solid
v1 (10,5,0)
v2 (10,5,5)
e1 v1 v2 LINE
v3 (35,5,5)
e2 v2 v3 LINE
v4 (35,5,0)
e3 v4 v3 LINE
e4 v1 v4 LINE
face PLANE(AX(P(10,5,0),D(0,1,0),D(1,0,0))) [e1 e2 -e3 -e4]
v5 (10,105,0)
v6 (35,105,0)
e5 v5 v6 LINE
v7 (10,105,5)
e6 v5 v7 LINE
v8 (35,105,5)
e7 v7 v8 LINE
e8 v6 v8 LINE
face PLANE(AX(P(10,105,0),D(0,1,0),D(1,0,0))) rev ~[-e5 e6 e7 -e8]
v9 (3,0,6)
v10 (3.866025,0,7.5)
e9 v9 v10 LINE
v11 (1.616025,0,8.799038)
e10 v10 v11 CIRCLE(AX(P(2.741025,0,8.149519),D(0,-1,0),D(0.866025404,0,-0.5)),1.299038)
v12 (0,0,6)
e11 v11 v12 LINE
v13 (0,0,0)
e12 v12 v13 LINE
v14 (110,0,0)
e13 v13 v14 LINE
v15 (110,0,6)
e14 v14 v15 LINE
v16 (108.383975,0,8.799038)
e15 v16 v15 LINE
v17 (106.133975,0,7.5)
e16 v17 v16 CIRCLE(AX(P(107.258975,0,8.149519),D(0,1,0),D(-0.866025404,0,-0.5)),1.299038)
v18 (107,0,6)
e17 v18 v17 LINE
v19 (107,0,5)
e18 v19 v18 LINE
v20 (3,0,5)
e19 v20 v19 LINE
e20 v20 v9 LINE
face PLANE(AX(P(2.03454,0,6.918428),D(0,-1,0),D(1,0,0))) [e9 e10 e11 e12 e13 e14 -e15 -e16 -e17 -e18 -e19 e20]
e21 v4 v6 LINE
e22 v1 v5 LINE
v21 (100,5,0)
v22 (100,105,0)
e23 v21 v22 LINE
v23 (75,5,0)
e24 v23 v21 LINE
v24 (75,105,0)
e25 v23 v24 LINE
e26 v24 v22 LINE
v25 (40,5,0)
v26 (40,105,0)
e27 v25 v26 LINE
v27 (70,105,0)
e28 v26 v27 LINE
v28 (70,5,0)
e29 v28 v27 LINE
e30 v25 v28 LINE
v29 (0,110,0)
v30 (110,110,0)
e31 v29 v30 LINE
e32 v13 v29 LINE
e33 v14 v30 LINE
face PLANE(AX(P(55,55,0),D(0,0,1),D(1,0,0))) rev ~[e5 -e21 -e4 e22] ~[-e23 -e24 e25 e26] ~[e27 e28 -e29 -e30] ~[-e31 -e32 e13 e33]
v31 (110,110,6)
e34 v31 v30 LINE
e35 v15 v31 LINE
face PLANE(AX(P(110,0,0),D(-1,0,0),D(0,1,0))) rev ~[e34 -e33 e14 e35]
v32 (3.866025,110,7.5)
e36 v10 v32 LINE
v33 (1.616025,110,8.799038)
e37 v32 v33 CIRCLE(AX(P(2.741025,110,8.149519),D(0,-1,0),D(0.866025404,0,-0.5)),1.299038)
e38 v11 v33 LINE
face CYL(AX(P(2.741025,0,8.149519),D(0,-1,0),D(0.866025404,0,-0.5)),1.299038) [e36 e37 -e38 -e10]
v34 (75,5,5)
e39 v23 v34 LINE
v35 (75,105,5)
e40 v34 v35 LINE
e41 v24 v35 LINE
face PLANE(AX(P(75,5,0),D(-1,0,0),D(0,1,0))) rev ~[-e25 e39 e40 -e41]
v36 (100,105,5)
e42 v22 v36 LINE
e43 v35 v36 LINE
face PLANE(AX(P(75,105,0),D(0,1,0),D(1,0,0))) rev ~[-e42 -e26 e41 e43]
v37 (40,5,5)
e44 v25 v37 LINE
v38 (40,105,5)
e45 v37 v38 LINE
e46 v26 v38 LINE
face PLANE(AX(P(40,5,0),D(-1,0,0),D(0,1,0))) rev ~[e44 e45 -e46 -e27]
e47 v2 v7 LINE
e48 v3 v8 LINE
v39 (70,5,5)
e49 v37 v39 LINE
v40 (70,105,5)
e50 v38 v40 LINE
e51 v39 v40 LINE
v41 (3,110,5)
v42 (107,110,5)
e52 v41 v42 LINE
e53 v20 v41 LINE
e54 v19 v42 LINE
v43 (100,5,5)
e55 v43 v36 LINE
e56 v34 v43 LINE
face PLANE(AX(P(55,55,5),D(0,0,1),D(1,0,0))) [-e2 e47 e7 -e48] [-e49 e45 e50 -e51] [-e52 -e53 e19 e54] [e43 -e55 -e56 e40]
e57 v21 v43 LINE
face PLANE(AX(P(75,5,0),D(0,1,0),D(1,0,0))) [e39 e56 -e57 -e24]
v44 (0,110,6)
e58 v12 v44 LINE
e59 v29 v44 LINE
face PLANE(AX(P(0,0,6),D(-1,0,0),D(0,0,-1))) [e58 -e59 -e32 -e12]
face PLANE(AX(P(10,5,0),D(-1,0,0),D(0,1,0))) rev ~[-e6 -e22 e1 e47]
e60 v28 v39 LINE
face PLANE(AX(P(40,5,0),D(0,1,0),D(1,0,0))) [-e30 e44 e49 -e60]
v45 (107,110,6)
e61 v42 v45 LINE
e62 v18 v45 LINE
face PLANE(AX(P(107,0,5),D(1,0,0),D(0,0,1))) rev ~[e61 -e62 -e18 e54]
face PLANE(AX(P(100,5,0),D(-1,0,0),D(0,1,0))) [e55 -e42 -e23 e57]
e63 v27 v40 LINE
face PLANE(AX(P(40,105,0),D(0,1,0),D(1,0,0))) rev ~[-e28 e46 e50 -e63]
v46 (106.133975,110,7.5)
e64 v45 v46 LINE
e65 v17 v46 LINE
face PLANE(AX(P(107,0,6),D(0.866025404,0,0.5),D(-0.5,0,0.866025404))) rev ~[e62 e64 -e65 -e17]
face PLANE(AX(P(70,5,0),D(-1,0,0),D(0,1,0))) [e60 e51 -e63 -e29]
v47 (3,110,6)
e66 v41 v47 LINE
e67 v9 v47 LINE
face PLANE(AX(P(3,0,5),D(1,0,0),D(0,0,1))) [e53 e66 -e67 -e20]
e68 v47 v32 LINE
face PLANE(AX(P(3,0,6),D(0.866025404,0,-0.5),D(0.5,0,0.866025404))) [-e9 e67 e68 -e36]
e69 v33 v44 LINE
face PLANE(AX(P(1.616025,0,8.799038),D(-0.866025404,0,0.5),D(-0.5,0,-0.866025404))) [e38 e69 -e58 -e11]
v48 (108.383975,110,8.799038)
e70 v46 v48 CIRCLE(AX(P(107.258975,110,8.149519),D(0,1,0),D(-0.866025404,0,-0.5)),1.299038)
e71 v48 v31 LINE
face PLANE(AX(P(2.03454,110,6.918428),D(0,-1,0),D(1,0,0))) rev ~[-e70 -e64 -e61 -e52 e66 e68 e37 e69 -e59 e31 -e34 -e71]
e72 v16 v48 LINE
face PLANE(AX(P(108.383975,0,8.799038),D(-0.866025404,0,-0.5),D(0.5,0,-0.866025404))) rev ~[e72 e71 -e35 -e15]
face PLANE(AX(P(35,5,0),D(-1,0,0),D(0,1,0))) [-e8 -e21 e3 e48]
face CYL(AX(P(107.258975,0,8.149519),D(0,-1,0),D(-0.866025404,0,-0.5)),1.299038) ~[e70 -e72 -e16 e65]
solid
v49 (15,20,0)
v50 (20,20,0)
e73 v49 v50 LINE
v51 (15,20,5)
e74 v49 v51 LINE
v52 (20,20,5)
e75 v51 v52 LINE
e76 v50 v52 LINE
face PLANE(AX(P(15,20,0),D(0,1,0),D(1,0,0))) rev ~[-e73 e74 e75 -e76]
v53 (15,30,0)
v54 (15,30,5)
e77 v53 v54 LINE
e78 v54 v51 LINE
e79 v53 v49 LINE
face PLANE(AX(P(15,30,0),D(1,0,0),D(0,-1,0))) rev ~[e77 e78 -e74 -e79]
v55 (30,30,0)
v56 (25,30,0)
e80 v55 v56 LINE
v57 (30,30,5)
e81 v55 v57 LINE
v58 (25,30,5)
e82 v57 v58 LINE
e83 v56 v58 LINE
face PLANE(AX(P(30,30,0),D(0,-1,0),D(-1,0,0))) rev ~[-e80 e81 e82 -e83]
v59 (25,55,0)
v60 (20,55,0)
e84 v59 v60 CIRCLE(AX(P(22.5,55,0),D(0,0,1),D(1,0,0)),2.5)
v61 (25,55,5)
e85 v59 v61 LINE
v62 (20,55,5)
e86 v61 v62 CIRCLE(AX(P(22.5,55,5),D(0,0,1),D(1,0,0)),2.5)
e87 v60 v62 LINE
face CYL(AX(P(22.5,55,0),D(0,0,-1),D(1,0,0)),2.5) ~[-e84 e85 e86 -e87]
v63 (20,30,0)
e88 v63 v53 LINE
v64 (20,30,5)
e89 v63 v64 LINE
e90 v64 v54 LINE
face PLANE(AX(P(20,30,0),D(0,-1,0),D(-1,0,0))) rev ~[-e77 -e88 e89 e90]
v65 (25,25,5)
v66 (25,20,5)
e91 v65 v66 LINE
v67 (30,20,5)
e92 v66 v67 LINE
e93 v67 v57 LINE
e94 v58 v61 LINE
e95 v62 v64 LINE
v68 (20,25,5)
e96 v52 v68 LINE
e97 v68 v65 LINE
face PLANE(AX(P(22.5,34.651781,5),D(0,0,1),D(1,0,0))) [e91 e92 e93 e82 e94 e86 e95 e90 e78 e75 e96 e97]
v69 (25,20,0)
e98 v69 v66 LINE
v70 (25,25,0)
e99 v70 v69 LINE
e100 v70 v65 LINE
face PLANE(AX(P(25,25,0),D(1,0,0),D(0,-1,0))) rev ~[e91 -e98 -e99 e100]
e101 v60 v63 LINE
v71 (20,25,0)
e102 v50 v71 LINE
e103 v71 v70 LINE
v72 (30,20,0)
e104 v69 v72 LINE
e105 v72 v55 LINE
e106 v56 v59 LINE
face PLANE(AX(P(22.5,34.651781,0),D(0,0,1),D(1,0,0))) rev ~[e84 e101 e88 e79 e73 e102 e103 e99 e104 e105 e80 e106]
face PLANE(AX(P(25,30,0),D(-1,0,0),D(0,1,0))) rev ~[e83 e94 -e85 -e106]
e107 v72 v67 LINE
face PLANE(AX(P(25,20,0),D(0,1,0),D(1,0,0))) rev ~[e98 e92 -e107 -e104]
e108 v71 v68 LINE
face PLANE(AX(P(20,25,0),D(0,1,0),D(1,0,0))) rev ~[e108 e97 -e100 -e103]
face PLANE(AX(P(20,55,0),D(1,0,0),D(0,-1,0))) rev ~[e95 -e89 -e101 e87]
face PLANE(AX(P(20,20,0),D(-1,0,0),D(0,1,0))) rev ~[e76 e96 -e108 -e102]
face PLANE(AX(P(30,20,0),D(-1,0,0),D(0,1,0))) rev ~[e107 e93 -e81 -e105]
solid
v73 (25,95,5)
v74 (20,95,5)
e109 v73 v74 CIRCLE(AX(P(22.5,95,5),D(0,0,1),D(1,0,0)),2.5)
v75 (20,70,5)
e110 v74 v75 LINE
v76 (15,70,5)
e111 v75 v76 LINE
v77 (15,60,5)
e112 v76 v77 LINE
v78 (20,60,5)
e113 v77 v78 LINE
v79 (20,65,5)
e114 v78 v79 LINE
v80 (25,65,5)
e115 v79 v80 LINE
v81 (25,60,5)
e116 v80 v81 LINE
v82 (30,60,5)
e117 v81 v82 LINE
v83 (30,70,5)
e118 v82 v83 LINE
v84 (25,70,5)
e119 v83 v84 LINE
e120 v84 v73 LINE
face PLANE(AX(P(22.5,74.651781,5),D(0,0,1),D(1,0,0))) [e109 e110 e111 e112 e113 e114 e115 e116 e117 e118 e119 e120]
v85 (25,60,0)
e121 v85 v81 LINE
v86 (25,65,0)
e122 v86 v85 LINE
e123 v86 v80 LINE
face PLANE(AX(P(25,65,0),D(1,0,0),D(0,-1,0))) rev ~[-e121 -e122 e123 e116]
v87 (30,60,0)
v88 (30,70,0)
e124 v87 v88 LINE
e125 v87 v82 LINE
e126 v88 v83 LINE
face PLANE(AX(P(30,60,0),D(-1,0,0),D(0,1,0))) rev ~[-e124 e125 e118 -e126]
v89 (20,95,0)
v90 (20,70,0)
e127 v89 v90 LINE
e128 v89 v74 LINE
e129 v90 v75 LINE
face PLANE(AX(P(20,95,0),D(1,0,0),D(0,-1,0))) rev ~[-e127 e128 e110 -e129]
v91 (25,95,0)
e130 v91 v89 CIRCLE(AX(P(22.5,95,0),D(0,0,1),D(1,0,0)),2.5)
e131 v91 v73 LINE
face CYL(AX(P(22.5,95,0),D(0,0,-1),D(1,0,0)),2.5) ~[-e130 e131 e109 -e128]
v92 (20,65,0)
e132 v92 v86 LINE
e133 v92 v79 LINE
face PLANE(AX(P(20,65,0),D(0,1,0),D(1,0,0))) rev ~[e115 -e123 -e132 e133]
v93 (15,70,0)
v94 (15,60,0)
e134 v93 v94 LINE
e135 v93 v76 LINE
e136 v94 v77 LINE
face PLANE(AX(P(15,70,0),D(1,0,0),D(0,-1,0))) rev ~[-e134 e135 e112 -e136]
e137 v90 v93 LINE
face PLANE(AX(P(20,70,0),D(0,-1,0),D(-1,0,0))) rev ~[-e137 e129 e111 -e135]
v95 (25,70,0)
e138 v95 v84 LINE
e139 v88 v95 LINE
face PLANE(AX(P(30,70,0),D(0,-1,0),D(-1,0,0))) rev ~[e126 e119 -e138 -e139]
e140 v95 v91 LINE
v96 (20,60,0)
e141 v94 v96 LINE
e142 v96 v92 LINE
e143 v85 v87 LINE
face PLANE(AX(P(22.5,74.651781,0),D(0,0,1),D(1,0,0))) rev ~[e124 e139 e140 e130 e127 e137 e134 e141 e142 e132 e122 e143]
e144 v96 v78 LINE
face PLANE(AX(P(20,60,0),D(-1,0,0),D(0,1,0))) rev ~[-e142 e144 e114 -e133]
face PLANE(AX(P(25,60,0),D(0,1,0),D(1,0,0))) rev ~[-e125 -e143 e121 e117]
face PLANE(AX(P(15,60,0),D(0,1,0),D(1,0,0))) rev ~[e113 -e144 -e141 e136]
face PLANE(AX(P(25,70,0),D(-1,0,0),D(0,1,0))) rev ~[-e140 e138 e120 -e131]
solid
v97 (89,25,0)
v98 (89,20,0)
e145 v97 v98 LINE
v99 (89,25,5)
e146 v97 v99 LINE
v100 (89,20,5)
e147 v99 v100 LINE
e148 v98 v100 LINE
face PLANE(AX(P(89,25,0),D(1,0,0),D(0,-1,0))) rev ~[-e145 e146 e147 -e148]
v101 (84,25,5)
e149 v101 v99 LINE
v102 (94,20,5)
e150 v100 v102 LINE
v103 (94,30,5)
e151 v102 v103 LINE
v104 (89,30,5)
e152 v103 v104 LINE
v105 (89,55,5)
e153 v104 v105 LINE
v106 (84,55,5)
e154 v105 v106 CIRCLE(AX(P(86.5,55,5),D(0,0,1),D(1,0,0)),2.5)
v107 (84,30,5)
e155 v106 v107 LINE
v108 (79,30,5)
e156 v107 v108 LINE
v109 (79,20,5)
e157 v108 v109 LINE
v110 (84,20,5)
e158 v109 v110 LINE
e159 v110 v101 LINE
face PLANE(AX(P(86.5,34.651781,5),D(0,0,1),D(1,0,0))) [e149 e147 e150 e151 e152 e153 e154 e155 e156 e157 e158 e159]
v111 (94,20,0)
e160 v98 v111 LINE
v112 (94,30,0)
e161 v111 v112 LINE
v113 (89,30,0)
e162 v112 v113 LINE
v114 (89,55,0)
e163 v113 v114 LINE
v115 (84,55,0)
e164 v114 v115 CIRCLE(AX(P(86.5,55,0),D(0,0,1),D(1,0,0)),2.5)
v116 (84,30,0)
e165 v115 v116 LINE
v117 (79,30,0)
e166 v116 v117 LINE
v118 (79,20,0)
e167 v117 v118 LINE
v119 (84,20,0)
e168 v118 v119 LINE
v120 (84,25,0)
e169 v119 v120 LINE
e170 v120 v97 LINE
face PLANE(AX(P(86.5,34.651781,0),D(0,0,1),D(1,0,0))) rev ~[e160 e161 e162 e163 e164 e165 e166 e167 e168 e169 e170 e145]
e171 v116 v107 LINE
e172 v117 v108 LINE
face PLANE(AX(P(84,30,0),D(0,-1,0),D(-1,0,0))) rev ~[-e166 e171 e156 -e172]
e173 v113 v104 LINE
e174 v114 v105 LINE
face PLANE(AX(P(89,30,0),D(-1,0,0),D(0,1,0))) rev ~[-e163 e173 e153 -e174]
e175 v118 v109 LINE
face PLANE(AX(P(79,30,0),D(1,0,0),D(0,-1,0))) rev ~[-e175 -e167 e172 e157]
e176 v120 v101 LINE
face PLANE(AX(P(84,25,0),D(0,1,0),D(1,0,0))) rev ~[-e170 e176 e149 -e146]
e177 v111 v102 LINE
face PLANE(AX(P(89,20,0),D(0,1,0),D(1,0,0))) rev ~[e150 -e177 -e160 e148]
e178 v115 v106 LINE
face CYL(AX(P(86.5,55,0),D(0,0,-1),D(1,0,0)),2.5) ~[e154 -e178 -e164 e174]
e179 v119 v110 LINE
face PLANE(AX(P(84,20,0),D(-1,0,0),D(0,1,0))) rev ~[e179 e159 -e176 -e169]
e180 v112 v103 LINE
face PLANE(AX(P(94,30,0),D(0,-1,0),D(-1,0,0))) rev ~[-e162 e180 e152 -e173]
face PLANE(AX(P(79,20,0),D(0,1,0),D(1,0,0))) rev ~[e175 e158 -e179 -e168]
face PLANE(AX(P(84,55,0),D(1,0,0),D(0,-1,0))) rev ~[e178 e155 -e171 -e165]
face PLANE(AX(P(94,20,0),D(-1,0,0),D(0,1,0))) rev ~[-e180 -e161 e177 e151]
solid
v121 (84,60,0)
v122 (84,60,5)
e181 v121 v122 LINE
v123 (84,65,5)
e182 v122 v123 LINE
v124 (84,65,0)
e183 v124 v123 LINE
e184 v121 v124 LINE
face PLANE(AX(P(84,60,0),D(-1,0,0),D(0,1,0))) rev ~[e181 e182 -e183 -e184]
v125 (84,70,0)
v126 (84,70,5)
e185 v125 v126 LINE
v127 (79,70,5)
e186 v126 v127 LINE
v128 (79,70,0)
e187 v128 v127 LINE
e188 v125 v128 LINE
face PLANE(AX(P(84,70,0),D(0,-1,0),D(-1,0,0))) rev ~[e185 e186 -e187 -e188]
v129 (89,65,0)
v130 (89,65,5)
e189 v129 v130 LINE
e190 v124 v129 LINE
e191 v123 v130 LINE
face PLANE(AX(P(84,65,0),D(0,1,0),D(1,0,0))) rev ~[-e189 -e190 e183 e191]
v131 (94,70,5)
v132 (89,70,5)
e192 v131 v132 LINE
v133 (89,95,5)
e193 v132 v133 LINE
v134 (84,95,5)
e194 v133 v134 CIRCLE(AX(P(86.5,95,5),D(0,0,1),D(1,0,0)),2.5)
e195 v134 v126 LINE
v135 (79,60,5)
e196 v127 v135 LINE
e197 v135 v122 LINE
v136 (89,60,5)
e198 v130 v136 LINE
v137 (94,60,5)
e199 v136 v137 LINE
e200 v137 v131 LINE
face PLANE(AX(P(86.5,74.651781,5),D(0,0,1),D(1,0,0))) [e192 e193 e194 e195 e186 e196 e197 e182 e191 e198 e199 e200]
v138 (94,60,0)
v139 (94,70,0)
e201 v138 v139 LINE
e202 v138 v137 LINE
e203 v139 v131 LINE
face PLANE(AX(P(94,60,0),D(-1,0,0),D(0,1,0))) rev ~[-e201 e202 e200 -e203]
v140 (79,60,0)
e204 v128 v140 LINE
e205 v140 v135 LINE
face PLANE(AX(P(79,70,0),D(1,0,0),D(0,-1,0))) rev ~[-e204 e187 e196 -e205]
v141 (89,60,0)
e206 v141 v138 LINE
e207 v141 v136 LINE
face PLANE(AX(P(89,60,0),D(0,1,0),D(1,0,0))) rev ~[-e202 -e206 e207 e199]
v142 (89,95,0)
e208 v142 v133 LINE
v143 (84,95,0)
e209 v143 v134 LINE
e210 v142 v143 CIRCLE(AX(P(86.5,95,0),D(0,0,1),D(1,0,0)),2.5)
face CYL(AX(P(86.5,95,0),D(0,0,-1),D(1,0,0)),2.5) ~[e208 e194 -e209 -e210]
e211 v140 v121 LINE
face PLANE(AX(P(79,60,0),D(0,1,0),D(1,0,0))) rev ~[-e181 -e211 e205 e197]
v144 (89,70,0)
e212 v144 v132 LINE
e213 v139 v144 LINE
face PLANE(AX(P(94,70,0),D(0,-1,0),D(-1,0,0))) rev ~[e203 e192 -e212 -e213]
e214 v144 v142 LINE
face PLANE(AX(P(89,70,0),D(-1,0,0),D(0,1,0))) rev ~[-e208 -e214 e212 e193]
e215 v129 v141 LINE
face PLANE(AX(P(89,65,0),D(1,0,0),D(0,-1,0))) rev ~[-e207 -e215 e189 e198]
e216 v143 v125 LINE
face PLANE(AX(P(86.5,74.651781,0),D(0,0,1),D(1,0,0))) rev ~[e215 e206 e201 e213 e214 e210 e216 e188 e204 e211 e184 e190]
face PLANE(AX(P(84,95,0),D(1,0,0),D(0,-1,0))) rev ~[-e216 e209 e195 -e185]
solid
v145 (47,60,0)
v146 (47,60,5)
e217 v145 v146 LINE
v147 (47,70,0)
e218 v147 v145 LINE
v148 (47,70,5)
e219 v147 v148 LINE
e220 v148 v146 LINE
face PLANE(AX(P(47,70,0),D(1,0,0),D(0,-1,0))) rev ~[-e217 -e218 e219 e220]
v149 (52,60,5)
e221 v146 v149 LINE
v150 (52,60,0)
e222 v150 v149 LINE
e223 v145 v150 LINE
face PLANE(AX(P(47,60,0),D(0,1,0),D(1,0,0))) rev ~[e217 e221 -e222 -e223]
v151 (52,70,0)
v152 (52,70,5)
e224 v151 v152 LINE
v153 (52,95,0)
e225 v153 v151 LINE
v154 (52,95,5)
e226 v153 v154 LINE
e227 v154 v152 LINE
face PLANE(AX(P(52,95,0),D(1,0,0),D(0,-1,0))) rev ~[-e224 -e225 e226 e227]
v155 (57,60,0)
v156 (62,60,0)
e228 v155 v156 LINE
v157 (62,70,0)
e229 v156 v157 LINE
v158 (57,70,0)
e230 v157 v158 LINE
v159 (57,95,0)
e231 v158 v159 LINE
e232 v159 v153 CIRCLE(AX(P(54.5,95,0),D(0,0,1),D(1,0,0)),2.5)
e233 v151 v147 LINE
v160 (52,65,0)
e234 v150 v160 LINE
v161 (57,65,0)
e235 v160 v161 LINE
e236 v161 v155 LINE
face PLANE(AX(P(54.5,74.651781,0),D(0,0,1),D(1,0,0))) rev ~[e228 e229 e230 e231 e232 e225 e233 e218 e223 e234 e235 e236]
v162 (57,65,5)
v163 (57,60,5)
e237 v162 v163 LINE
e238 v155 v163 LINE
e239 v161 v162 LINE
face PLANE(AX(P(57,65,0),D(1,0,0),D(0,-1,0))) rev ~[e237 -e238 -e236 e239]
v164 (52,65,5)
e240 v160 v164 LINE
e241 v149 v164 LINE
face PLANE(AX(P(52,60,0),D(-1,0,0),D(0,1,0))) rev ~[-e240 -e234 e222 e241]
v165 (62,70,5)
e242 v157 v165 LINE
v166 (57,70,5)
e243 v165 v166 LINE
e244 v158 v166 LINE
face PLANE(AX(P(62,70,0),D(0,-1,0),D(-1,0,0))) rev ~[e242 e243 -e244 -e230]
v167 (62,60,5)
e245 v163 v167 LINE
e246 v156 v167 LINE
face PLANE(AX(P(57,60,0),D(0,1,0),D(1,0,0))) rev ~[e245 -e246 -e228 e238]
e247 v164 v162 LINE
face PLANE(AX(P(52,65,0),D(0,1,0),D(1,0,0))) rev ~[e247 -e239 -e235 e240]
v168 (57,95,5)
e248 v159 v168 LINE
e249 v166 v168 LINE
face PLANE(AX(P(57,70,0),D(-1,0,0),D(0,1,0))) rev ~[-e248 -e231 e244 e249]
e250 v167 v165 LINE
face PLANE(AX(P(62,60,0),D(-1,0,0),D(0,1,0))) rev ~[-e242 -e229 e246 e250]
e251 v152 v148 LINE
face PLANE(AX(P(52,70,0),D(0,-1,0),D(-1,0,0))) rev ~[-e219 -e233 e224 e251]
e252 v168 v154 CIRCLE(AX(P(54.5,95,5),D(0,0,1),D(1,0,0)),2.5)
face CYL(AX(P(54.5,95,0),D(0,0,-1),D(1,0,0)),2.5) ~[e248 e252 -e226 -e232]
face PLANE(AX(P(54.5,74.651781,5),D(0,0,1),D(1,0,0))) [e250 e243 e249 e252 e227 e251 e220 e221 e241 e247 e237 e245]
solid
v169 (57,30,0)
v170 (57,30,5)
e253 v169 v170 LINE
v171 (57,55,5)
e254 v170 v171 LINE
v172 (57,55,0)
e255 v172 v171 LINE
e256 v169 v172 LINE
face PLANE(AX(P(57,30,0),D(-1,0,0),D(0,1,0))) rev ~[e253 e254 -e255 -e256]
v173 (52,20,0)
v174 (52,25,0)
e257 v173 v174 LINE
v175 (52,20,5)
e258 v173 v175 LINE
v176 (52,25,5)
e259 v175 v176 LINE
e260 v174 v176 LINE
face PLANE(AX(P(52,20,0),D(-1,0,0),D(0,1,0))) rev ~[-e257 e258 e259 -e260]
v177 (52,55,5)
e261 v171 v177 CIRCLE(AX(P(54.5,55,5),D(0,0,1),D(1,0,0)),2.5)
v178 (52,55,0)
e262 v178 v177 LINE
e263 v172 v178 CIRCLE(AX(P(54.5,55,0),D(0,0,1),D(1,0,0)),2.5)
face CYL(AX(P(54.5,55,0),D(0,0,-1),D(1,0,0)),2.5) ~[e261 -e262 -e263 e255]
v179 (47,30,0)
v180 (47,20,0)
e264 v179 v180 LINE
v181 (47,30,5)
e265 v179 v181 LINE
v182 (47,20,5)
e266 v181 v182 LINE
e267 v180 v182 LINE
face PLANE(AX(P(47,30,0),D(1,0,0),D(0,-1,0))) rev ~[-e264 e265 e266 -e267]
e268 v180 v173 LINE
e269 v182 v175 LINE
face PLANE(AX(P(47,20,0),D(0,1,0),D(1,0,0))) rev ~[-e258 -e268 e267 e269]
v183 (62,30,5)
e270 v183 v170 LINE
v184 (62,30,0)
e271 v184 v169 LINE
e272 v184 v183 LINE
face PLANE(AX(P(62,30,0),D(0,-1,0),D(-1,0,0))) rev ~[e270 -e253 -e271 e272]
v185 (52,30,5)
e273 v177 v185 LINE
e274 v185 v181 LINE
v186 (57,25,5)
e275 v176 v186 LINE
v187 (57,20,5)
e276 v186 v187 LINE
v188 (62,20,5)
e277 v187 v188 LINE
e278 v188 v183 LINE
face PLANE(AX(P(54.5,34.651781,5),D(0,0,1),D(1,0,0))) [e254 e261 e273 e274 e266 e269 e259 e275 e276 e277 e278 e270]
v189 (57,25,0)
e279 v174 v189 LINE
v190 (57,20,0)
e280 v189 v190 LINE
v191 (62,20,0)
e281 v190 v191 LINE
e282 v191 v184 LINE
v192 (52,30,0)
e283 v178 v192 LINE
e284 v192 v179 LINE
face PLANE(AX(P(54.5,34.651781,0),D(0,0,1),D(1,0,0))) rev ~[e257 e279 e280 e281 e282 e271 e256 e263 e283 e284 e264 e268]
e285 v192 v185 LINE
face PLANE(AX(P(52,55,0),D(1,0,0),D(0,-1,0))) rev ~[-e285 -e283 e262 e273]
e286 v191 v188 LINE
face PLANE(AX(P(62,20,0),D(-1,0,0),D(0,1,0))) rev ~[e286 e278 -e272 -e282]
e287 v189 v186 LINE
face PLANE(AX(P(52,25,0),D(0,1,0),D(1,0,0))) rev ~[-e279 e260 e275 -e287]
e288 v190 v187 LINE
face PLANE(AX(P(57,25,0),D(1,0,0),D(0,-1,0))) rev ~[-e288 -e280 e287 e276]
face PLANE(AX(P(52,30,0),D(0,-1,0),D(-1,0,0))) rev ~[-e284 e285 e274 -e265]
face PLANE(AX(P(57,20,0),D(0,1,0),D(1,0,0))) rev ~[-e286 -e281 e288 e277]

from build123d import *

# Parameters (mm, degrees)
SKETCH1_W             = 110
SKETCH1_H             = 110
SKETCH1_W_2           = 25
SKETCH1_H_2           = 100
SKETCH1_W_3           = 30
BOSS_EXTRUDE1_DEPTH   = 5
BOSS_EXTRUDE2_DEPTH   = 110
BOSS_EXTRUDE3_DEPTH   = 5
BOSS_EXTRUDE3_2_DEPTH = 5
BOSS_EXTRUDE3_3_DEPTH = 5
BOSS_EXTRUDE3_4_DEPTH = 5
BOSS_EXTRUDE3_5_DEPTH = 5
BOSS_EXTRUDE3_6_DEPTH = 5


with BuildPart() as part:
    # Sketch1 → Boss-Extrude1 (new body)
    with BuildSketch(Plane.XY):
        with Locations((55, 55)):
            Rectangle(SKETCH1_W, SKETCH1_H)
        with Locations((22.5, 55)):
            Rectangle(SKETCH1_W_2, SKETCH1_H_2, mode=Mode.SUBTRACT)
        with Locations((87.5, 55)):
            Rectangle(SKETCH1_W_2, SKETCH1_H_2, mode=Mode.SUBTRACT)
        with Locations((55, 55)):
            Rectangle(SKETCH1_W_3, SKETCH1_H_2, mode=Mode.SUBTRACT)
    extrude(amount=BOSS_EXTRUDE1_DEPTH)

    # Sketch2 → Boss-Extrude2 (add)
    with BuildSketch(Plane.XZ):
        with BuildLine():
            Line((0, 5), (3, 5))
            Line((3, 5), (3, 6))
            Line((3, 6), (3.866025404, 7.5))
            ThreePointArc((3.866025404, 7.5), (3.390544457, 9.274519053), (1.616025404, 8.799038106))
            Line((1.616025404, 8.799038106), (0, 6))
            Line((0, 6), (0, 5))
        make_face()
        with BuildLine():
            Line((110, 6), (110, 5))
            Line((110, 5), (107, 5))
            Line((107, 5), (107, 6))
            Line((107, 6), (106.133974596, 7.5))
            ThreePointArc((106.133974596, 7.5), (106.609455543, 9.274519053), (108.383974596, 8.799038106))
            Line((108.383974596, 8.799038106), (110, 6))
        make_face()
    extrude(amount=-BOSS_EXTRUDE2_DEPTH)


with BuildPart() as body_2:
    # Sketch3 → Boss-Extrude3 (new body)
    with BuildSketch(Plane.XY):
        with BuildLine():
            Line((20, 95), (20, 70))
            Line((20, 70), (15, 70))
            Line((15, 70), (15, 60))
            Line((15, 60), (20, 60))
            Line((20, 60), (20, 65))
            Line((20, 65), (25, 65))
            Line((25, 65), (25, 60))
            Line((25, 60), (30, 60))
            Line((30, 60), (30, 70))
            Line((30, 70), (25, 70))
            Line((25, 70), (25, 95))
            ThreePointArc((25, 95), (22.5, 97.5), (20, 95))
        make_face()
    extrude(amount=BOSS_EXTRUDE3_DEPTH)


with BuildPart() as body_3:
    # Sketch3 → Boss-Extrude3 2 (new body)
    with BuildSketch(Plane.XY):
        with BuildLine():
            Line((52, 95), (52, 70))
            Line((52, 70), (47, 70))
            Line((47, 70), (47, 60))
            Line((47, 60), (52, 60))
            Line((52, 60), (52, 65))
            Line((52, 65), (57, 65))
            Line((57, 65), (57, 60))
            Line((57, 60), (62, 60))
            Line((62, 60), (62, 70))
            Line((62, 70), (57, 70))
            Line((57, 70), (57, 95))
            ThreePointArc((57, 95), (54.5, 97.5), (52, 95))
        make_face()
    extrude(amount=BOSS_EXTRUDE3_2_DEPTH)


with BuildPart() as body_4:
    # Sketch3 → Boss-Extrude3 3 (new body)
    with BuildSketch(Plane.XY):
        with BuildLine():
            Line((84, 95), (84, 70))
            Line((84, 70), (79, 70))
            Line((79, 70), (79, 60))
            Line((79, 60), (84, 60))
            Line((84, 60), (84, 65))
            Line((84, 65), (89, 65))
            Line((89, 65), (89, 60))
            Line((89, 60), (94, 60))
            Line((94, 60), (94, 70))
            Line((94, 70), (89, 70))
            Line((89, 70), (89, 95))
            ThreePointArc((89, 95), (86.5, 97.5), (84, 95))
        make_face()
    extrude(amount=BOSS_EXTRUDE3_3_DEPTH)


with BuildPart() as body_5:
    # Sketch3 → Boss-Extrude3 4 (new body)
    with BuildSketch(Plane.XY):
        with BuildLine():
            Line((52, 55), (52, 30))
            Line((52, 30), (47, 30))
            Line((47, 30), (47, 20))
            Line((47, 20), (52, 20))
            Line((52, 20), (52, 25))
            Line((52, 25), (57, 25))
            Line((57, 25), (57, 20))
            Line((57, 20), (62, 20))
            Line((62, 20), (62, 30))
            Line((62, 30), (57, 30))
            Line((57, 30), (57, 55))
            ThreePointArc((57, 55), (54.5, 57.5), (52, 55))
        make_face()
    extrude(amount=BOSS_EXTRUDE3_4_DEPTH)


with BuildPart() as body_6:
    # Sketch3 → Boss-Extrude3 5 (new body)
    with BuildSketch(Plane.XY):
        with BuildLine():
            Line((84, 55), (84, 30))
            Line((84, 30), (79, 30))
            Line((79, 30), (79, 20))
            Line((79, 20), (84, 20))
            Line((84, 20), (84, 25))
            Line((84, 25), (89, 25))
            Line((89, 25), (89, 20))
            Line((89, 20), (94, 20))
            Line((94, 20), (94, 30))
            Line((94, 30), (89, 30))
            Line((89, 30), (89, 55))
            ThreePointArc((89, 55), (86.5, 57.5), (84, 55))
        make_face()
    extrude(amount=BOSS_EXTRUDE3_5_DEPTH)


with BuildPart() as body_7:
    # Sketch3 → Boss-Extrude3 6 (new body)
    with BuildSketch(Plane.XY):
        with BuildLine():
            Line((20, 55), (20, 30))
            Line((20, 30), (15, 30))
            Line((15, 30), (15, 20))
            Line((15, 20), (20, 20))
            Line((20, 20), (20, 25))
            Line((20, 25), (25, 25))
            Line((25, 25), (25, 20))
            Line((25, 20), (30, 20))
            Line((30, 20), (30, 30))
            Line((30, 30), (25, 30))
            Line((25, 30), (25, 55))
            ThreePointArc((25, 55), (22.5, 57.5), (20, 55))
        make_face()
    extrude(amount=BOSS_EXTRUDE3_6_DEPTH)


solid = Compound([part.part, body_2.part, body_3.part, body_4.part, body_5.part, body_6.part, body_7.part])
